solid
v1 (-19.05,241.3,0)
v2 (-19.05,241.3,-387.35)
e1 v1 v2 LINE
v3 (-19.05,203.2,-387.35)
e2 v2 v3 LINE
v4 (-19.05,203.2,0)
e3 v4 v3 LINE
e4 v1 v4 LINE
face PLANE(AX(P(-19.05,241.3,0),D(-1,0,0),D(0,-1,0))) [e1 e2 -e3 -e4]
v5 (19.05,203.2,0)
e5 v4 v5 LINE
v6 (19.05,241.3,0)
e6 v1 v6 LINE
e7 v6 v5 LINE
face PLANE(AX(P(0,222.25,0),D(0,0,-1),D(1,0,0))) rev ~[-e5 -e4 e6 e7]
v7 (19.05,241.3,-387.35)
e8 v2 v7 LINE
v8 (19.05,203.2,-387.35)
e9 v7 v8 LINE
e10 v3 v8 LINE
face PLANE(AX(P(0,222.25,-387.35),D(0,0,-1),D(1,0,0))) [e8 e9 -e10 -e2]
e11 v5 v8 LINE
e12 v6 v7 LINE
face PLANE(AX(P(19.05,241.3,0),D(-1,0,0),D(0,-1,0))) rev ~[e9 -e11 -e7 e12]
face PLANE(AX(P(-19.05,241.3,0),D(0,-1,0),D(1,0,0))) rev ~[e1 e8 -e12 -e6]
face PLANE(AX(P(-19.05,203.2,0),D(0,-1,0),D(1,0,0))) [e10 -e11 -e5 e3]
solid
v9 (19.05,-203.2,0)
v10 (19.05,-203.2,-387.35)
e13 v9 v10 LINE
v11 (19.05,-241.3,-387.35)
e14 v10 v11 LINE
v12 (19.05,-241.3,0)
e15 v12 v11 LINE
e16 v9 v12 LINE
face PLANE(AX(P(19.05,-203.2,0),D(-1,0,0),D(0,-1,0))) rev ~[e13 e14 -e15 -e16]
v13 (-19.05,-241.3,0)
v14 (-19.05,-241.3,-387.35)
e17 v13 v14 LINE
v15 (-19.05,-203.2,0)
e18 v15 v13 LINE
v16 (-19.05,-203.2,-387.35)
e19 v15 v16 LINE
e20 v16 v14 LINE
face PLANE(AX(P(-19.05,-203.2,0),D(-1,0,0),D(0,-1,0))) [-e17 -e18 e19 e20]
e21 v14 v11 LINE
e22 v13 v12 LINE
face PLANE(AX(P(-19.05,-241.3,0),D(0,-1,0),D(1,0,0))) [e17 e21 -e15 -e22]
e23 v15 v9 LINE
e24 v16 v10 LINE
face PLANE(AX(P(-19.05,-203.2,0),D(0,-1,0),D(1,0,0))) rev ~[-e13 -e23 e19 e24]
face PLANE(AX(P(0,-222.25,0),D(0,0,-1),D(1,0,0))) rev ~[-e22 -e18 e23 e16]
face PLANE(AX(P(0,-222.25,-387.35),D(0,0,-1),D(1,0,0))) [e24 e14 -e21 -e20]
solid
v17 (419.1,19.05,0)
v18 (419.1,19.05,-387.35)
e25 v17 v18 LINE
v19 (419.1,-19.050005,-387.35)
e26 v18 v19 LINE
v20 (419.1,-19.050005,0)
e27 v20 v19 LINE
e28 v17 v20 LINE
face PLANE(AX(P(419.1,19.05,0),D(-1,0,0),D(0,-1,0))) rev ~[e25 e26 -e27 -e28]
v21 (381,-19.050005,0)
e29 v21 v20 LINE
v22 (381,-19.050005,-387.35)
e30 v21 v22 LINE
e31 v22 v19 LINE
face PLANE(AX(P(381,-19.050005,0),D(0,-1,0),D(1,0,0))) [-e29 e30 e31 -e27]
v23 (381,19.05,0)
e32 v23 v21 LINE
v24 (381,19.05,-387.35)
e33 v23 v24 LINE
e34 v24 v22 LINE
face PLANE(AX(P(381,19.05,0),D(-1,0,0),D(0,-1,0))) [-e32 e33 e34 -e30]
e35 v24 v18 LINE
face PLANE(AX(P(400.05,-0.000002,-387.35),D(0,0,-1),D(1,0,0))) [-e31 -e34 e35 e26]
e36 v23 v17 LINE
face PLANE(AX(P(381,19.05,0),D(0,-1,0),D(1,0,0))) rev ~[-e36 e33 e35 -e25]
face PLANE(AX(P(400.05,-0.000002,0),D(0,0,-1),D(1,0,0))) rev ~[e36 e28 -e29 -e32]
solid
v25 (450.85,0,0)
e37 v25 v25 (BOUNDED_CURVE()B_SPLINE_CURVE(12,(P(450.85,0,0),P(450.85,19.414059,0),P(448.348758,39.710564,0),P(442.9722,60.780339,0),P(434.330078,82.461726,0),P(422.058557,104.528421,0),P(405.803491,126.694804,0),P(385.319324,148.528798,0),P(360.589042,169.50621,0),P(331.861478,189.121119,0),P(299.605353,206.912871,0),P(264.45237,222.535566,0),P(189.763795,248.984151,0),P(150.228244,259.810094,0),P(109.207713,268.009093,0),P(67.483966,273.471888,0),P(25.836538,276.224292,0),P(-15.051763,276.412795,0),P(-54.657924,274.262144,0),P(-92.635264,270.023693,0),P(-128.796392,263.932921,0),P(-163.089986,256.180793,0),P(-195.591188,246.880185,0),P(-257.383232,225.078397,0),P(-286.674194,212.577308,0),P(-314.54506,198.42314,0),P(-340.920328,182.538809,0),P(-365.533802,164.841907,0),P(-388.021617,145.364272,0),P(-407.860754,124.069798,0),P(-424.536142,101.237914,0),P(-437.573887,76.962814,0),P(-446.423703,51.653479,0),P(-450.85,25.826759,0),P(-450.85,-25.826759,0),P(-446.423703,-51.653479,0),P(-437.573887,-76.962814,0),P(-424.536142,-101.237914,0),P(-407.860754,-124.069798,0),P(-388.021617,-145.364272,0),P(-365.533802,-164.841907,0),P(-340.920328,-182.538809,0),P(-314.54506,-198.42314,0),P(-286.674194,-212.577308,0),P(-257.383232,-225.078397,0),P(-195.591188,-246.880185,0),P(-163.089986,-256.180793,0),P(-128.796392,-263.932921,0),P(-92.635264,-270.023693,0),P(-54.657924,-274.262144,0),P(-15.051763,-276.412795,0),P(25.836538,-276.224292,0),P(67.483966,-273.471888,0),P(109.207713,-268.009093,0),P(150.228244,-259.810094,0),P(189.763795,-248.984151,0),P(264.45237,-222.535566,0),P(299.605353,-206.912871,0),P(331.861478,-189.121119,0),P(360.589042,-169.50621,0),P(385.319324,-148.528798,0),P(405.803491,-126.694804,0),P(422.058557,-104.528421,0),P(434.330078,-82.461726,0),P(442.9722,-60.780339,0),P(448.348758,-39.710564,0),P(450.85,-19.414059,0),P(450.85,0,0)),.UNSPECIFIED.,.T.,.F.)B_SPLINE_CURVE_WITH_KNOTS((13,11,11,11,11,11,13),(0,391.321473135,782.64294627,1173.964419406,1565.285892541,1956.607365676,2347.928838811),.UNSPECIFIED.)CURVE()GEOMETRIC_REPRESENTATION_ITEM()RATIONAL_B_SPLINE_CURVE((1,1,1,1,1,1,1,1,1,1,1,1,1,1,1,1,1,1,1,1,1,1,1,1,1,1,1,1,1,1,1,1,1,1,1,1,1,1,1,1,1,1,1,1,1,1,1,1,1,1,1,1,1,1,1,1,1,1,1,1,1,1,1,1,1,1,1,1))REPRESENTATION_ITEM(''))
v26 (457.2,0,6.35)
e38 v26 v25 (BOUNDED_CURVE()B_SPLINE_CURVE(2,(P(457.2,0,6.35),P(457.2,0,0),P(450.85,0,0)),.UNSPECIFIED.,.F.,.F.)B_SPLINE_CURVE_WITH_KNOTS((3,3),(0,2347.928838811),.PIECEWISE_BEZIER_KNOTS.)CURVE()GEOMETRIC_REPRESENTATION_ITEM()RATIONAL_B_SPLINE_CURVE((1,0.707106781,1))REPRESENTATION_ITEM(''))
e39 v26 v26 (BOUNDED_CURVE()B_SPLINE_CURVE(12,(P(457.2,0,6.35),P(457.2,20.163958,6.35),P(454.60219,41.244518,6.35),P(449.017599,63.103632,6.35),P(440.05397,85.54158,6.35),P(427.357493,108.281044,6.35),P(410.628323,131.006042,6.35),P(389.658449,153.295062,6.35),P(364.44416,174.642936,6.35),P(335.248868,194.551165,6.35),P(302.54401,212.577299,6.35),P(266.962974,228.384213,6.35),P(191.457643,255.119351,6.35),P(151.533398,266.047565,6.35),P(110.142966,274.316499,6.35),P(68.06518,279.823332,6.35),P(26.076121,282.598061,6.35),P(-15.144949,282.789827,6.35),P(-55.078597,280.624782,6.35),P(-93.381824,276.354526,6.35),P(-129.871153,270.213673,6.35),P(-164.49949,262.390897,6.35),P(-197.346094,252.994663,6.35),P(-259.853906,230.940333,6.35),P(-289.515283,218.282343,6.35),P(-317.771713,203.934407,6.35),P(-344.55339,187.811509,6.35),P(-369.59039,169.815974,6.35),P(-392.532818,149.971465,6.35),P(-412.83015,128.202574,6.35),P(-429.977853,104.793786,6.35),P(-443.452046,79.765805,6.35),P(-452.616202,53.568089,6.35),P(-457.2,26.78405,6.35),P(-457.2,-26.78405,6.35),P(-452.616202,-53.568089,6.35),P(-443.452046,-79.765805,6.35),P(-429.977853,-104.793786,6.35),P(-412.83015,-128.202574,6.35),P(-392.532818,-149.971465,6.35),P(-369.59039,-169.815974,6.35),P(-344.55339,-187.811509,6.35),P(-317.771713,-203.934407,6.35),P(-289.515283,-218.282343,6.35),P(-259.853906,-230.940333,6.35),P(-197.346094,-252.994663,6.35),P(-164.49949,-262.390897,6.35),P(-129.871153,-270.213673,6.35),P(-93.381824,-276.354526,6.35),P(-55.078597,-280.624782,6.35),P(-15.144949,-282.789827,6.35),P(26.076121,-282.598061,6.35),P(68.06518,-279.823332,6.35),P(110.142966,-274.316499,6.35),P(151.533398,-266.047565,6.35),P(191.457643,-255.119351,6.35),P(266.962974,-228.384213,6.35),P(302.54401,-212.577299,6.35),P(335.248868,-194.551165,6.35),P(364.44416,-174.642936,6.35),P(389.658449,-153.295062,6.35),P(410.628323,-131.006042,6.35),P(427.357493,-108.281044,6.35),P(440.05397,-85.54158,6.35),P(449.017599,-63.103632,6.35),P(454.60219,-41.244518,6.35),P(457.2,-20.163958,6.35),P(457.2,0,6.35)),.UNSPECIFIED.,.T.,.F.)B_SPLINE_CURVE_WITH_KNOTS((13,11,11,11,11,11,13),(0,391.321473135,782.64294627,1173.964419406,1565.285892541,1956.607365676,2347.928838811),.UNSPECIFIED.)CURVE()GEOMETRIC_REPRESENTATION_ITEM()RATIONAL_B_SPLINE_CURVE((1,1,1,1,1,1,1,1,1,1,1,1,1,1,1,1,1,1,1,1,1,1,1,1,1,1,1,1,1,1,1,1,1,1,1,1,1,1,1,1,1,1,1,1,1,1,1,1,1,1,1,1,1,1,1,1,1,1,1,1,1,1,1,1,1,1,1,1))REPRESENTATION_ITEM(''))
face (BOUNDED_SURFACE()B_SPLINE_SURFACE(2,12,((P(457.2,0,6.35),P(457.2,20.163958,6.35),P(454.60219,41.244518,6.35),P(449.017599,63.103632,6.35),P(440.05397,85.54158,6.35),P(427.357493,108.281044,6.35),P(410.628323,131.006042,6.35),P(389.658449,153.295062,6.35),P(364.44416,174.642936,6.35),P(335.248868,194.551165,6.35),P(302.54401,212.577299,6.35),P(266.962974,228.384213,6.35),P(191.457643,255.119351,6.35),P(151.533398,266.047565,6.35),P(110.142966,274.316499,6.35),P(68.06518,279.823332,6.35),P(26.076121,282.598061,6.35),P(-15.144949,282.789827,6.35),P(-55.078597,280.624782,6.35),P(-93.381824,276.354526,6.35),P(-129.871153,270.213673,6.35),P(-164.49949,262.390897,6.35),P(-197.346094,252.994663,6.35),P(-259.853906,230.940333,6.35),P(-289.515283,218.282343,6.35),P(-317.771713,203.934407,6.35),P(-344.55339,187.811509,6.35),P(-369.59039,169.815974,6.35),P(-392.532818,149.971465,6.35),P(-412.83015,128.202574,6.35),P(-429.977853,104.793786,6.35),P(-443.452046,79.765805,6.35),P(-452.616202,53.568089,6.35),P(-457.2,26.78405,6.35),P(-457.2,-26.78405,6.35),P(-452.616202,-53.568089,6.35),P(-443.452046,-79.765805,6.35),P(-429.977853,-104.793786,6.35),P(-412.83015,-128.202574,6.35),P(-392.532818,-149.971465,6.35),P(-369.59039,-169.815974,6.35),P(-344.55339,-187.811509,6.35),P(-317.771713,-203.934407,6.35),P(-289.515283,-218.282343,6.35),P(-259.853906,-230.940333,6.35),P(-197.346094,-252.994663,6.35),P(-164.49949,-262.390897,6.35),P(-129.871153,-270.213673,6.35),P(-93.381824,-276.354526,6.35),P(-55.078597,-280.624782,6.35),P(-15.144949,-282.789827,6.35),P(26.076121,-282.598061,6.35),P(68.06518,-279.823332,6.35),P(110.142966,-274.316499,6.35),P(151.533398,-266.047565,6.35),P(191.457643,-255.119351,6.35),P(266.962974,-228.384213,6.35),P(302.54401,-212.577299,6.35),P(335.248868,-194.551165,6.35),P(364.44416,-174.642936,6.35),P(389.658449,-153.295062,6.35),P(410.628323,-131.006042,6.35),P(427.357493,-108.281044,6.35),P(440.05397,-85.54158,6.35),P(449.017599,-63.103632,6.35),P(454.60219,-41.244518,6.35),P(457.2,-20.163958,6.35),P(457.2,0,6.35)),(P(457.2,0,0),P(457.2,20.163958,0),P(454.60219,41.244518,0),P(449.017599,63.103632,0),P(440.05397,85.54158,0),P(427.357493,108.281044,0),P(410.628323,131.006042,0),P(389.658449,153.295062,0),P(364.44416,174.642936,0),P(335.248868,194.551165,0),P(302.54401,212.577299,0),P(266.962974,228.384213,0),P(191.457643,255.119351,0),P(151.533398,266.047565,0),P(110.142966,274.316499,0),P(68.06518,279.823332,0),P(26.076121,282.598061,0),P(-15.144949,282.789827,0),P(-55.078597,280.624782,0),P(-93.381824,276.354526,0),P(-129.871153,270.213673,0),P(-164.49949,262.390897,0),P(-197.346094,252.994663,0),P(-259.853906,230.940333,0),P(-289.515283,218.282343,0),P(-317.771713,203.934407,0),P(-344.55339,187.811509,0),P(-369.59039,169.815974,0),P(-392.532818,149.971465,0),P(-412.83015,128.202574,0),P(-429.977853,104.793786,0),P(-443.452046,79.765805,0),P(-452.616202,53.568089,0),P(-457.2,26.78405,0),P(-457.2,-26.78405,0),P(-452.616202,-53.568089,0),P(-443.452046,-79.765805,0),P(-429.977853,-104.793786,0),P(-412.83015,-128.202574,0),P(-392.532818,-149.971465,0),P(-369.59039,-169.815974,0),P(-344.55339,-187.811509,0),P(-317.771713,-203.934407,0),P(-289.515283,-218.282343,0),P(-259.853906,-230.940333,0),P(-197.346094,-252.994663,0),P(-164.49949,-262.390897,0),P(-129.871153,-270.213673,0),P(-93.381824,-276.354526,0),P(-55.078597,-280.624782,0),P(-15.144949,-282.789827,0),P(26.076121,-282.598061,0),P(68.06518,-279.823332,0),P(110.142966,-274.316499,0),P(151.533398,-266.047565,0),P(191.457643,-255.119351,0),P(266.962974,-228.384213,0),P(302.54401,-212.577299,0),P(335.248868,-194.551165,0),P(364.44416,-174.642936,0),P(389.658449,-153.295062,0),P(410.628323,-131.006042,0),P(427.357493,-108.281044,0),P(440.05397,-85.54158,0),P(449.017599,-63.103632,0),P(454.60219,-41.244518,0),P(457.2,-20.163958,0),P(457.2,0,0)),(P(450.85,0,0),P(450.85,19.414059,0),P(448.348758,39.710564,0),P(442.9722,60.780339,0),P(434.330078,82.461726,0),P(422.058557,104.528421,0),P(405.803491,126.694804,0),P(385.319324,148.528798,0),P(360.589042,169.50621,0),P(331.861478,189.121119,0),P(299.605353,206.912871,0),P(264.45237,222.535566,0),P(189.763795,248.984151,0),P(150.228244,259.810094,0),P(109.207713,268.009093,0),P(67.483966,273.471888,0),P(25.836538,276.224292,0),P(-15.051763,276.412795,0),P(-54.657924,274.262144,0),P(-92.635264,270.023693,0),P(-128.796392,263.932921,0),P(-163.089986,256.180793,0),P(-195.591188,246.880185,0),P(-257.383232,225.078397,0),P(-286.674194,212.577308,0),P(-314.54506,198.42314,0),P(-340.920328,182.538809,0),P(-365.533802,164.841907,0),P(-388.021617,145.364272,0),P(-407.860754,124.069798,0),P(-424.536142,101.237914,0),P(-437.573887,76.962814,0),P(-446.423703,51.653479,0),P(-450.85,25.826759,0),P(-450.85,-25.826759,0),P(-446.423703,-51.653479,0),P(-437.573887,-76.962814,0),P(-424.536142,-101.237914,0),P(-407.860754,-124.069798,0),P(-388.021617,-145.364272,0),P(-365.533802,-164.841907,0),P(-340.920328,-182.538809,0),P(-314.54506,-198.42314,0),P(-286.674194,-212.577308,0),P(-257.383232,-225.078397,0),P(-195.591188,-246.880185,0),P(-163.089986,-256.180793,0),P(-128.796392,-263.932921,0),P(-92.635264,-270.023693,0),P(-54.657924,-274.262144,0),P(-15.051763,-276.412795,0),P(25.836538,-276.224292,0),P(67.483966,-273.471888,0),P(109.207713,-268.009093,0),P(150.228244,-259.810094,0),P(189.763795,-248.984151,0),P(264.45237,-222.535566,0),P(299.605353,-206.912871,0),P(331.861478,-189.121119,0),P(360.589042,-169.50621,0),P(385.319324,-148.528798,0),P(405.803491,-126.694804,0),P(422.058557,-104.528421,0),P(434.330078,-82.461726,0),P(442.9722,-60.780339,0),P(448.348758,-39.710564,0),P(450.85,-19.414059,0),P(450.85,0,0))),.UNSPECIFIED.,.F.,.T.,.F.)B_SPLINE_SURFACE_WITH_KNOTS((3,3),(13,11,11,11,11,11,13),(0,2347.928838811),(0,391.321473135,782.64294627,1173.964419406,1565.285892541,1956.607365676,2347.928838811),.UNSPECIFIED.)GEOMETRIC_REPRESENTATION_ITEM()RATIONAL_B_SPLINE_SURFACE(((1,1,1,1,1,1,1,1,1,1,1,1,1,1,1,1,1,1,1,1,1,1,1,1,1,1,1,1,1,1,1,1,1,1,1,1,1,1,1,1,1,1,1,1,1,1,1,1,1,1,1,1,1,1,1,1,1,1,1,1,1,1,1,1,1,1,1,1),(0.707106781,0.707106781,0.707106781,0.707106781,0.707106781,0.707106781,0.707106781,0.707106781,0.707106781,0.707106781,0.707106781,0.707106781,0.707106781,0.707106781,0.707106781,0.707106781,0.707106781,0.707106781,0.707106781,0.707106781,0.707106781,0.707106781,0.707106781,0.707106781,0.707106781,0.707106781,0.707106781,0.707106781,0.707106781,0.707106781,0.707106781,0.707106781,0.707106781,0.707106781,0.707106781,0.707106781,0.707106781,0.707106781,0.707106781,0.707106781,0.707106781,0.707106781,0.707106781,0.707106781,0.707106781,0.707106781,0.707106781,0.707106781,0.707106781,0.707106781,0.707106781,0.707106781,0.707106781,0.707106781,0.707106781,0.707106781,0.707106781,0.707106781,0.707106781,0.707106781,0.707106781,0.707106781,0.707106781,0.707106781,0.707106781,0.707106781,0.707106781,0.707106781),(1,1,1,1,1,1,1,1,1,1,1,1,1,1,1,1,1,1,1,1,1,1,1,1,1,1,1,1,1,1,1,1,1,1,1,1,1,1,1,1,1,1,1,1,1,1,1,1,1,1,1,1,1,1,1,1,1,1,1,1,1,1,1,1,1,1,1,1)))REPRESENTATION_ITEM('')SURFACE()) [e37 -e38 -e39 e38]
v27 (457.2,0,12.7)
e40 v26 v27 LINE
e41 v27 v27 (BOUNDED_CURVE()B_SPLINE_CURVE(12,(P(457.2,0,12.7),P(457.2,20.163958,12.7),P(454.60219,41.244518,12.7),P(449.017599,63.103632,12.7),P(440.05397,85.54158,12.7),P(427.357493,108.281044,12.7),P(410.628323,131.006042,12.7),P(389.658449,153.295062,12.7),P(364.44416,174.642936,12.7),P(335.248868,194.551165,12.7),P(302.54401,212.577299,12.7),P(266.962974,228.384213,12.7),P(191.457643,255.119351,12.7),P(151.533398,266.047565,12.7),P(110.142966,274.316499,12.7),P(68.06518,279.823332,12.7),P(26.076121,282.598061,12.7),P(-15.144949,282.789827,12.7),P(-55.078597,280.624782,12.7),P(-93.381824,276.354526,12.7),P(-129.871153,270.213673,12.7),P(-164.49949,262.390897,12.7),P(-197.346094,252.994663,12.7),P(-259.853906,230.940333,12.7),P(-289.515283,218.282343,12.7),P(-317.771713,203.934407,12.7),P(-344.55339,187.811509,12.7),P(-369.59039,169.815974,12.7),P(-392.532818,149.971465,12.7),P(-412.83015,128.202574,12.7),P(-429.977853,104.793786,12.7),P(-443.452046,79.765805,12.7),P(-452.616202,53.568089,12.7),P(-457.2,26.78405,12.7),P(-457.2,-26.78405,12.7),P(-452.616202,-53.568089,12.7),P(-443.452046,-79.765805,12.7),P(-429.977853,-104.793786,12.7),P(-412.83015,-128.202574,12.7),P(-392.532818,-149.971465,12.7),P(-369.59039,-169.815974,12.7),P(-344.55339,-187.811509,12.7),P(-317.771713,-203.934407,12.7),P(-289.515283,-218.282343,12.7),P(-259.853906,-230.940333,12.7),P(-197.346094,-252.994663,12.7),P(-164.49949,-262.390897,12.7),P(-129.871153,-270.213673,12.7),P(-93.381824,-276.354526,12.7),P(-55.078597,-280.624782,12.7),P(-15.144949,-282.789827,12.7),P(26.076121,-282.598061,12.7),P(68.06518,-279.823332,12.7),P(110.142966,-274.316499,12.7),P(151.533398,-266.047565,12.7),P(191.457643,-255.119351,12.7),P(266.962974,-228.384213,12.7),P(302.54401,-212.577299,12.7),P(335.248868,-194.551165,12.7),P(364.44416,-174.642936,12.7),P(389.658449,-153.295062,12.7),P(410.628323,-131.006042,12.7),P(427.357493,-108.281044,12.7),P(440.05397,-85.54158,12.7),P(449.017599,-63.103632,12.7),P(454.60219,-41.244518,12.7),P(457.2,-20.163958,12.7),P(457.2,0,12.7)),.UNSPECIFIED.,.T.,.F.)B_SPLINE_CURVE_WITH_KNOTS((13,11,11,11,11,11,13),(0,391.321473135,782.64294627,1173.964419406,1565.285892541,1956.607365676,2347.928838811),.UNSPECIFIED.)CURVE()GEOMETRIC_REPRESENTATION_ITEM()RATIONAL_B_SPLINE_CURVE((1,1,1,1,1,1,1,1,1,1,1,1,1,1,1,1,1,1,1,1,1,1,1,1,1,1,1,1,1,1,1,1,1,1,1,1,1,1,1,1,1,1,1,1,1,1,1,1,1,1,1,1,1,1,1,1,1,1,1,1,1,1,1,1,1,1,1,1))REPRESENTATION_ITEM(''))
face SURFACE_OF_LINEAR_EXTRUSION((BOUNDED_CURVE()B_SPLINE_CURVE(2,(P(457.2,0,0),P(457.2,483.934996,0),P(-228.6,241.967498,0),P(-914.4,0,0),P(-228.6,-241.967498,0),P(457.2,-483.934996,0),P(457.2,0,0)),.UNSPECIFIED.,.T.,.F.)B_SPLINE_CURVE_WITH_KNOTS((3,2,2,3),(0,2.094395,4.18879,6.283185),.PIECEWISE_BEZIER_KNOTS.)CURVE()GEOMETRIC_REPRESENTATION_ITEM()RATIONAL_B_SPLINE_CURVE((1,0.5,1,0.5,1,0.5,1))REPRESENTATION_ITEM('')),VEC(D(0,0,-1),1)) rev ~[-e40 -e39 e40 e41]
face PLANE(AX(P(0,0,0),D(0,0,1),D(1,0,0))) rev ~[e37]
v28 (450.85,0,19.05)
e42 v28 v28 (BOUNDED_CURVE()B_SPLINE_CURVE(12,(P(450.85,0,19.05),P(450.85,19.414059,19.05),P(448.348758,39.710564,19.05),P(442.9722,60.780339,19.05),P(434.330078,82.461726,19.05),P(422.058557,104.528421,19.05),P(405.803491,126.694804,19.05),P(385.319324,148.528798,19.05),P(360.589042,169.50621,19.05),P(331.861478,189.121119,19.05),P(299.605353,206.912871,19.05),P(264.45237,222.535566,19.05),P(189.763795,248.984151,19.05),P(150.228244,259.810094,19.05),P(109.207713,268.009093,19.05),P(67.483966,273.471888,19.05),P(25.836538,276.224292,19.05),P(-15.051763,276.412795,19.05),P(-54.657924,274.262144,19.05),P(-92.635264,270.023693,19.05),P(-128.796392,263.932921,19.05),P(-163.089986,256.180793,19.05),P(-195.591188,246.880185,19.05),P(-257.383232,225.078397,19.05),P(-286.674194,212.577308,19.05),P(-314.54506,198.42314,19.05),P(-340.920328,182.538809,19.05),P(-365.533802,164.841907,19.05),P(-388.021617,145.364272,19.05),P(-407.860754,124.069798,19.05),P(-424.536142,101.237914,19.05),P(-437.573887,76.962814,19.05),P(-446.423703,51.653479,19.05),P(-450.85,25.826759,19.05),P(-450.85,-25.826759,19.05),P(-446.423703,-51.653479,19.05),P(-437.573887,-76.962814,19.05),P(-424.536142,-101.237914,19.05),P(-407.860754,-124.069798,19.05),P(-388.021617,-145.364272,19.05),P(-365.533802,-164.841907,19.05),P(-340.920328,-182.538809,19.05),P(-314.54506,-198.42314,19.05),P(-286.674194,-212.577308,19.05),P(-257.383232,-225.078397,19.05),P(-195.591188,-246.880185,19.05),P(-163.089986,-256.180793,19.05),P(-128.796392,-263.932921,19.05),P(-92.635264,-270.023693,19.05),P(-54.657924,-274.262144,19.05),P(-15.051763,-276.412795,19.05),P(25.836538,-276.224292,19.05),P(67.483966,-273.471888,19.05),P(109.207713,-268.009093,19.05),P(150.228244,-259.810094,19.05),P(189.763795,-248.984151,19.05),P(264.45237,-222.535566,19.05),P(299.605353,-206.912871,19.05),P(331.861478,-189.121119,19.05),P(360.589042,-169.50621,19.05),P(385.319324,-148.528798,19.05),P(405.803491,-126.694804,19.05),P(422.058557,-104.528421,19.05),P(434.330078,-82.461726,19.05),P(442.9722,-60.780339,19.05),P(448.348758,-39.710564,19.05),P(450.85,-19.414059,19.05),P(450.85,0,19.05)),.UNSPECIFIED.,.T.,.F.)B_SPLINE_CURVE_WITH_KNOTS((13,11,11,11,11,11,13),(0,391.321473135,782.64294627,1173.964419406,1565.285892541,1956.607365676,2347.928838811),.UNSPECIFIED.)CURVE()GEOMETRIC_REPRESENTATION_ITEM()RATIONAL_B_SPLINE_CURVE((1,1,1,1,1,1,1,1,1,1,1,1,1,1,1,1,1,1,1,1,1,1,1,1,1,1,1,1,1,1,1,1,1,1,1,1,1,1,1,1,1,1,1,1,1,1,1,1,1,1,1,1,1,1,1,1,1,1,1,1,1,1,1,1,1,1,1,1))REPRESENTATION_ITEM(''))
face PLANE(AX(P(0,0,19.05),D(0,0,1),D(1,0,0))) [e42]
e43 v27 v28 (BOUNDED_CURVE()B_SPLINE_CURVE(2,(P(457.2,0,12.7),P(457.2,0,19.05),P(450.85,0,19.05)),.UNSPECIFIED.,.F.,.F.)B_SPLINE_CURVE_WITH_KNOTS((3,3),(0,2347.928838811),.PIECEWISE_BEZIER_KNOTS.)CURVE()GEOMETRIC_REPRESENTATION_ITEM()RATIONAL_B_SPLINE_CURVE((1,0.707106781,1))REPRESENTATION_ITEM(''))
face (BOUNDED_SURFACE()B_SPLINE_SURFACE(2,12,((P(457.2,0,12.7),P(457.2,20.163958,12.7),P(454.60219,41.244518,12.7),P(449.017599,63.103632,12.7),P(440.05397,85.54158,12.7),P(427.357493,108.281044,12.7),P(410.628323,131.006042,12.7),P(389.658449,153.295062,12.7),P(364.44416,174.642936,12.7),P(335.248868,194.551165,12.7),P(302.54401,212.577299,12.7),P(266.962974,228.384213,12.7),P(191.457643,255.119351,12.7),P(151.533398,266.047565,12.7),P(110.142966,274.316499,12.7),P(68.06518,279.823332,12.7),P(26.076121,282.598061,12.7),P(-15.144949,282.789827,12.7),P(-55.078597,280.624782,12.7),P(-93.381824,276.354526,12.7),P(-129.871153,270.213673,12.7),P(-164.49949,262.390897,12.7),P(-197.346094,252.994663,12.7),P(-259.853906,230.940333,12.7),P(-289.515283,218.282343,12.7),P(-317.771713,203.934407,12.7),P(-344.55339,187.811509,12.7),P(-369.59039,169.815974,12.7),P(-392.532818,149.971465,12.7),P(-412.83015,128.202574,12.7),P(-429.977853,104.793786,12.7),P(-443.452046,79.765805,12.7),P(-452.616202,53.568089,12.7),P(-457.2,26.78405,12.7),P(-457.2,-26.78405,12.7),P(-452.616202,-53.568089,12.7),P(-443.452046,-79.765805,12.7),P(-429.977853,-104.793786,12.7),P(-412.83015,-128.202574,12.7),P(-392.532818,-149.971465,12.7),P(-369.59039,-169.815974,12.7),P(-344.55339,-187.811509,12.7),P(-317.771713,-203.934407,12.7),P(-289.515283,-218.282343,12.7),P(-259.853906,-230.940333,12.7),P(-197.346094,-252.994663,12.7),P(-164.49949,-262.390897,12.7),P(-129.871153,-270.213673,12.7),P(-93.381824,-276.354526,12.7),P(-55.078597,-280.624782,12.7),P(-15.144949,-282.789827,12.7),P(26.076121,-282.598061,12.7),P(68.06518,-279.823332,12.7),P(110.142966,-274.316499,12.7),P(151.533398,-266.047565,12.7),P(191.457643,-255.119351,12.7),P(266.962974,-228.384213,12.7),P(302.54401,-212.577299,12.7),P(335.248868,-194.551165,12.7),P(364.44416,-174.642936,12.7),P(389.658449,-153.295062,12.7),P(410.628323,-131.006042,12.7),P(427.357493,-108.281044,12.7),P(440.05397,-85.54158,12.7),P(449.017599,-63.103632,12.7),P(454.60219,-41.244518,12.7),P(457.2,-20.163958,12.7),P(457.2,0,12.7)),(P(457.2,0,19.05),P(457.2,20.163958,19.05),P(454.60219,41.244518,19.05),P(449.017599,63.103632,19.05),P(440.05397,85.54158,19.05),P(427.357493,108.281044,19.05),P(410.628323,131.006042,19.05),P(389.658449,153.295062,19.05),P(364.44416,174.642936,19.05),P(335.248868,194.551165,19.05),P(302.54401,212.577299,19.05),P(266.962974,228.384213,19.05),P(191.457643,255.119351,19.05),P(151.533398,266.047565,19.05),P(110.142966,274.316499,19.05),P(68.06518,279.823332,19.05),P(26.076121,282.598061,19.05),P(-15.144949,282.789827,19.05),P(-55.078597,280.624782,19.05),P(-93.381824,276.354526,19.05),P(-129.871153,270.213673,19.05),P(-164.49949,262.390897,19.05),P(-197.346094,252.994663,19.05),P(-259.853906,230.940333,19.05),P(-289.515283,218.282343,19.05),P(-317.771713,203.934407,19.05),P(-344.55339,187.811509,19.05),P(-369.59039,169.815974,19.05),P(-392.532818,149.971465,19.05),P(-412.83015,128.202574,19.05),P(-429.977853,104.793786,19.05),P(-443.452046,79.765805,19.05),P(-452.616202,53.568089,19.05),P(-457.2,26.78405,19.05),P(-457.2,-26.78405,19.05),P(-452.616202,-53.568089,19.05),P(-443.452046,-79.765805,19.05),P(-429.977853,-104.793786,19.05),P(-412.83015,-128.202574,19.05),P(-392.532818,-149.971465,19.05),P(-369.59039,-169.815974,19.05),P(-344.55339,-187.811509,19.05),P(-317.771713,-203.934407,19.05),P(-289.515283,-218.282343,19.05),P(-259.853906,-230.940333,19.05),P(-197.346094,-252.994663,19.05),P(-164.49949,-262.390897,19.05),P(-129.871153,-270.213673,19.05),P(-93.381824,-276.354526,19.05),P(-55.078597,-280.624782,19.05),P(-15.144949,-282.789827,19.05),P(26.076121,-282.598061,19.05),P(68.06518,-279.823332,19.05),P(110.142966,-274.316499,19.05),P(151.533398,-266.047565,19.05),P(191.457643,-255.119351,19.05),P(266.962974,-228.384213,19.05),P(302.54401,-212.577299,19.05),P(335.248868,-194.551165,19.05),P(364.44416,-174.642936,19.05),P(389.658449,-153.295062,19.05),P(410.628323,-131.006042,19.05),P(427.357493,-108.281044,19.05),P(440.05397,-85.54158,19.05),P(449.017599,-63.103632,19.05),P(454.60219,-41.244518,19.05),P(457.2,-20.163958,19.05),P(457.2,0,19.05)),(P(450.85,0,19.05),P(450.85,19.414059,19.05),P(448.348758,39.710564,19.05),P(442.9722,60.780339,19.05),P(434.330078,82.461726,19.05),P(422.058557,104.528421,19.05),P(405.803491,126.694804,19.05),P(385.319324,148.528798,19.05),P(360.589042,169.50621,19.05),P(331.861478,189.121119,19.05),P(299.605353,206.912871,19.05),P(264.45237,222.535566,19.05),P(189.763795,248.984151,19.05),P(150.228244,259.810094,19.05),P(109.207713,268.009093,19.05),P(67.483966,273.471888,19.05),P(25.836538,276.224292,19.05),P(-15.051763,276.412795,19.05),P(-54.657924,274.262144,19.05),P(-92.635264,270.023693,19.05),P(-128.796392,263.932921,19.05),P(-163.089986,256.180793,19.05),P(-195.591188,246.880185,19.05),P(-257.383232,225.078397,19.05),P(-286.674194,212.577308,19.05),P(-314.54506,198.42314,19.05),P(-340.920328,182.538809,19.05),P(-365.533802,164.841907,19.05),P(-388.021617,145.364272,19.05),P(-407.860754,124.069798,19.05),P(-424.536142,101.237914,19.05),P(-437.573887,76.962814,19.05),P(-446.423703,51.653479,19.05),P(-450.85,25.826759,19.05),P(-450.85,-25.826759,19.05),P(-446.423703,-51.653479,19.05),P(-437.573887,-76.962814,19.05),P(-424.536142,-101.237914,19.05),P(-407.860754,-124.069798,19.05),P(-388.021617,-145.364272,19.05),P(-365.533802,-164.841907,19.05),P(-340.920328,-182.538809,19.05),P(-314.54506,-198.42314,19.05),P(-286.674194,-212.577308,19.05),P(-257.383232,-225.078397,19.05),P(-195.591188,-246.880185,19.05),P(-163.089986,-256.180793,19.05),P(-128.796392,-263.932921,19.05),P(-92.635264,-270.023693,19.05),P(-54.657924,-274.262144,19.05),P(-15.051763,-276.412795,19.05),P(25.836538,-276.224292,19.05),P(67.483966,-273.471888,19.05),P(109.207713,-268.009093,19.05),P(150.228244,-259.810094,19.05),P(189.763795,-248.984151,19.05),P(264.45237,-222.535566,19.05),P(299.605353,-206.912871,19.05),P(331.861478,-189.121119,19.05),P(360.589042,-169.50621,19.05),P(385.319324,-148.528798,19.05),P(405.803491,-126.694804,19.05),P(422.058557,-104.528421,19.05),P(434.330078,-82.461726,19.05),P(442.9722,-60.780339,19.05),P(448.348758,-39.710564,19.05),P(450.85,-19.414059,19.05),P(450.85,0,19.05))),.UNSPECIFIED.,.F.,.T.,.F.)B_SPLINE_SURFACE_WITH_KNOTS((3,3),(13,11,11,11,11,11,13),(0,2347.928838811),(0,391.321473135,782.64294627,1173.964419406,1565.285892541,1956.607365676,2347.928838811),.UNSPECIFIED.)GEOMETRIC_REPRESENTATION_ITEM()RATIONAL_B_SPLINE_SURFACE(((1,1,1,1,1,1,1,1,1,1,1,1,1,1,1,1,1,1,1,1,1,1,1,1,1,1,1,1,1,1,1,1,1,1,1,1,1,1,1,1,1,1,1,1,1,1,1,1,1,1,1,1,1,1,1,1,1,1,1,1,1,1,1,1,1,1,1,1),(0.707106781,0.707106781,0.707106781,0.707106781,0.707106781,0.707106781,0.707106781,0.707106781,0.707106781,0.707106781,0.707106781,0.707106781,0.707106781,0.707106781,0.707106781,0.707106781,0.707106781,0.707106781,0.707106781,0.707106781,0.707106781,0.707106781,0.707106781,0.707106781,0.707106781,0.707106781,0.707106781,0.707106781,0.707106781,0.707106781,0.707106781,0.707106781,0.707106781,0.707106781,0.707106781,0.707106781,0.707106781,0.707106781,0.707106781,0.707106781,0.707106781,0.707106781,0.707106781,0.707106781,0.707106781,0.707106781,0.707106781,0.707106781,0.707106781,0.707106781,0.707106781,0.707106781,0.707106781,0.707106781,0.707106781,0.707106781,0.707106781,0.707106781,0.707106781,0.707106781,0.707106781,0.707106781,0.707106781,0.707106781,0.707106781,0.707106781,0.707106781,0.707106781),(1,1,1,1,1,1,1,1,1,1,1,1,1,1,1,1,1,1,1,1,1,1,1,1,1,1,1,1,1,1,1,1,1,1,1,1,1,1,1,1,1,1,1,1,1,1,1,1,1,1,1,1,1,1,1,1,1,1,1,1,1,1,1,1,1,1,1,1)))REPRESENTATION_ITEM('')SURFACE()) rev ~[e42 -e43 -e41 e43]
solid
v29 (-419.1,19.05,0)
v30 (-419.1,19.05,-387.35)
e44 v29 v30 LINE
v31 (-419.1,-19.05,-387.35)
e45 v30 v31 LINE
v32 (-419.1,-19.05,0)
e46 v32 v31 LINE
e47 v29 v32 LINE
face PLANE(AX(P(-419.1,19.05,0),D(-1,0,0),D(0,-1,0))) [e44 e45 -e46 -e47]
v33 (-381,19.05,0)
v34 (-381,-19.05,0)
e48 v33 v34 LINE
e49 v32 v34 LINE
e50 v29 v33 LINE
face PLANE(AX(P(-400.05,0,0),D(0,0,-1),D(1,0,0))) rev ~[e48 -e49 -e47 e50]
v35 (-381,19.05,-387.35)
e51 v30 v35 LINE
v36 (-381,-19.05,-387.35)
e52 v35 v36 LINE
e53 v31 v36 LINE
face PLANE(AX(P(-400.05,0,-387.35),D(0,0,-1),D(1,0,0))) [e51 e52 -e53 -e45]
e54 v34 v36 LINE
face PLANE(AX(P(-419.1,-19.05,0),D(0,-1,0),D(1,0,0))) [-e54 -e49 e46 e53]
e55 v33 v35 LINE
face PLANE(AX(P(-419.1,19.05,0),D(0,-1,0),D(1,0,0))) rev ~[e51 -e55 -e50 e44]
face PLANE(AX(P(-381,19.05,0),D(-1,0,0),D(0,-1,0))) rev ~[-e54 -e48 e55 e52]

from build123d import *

# Parameters (mm, degrees)
F1_DEPTH  = 19.05
F2_R      = 6.35
F3_W      = 38.1
F3_H      = 38.100005
F4_DEPTH  = 387.35
F5_W      = 38.1
F5_H      = 38.1
F6_DEPTH  = 387.35
F7_W      = 38.1
F7_H      = 38.1
F8_DEPTH  = 387.35
F9_W      = 38.1
F9_H      = 38.1
F10_DEPTH = 387.35


with BuildPart() as f1:
    # F0 (on Top) → F1 (new body)
    with BuildSketch(Plane.XY):
        with BuildLine():
            add(Edge.make_bspline(
                [(457.2, 0), (457.2, 483.934996), (-228.6, 241.967498), (-914.4, 0), (-228.6, -241.967498), (457.2, -483.934996), (457.2, 0)],
                knots=[0, 0, 0, 2.094395, 2.094395, 4.18879, 4.18879, 6.283185, 6.283185, 6.283185], degree=2, weights=[1, 0.5, 1, 0.5, 1, 0.5, 1]))
        make_face()
    extrude(amount=F1_DEPTH)

    # F2
    f2_edges = [f1.edges().sort_by_distance(p)[0] for p in [
        (-457.2, 4e-06, 19.05),
        (-457.2, 4e-06, 0),
    ]]
    fillet(f2_edges, radius=F2_R)


with BuildPart() as f4:
    # F3 (on face) → F4 (new body)
    with BuildSketch(Plane(origin=(0, 0, 0), x_dir=(1, 0, 0), z_dir=(0, 0, -1))):
        with Locations((400.05, 2e-06)):
            Rectangle(F3_W, F3_H)
    extrude(amount=F4_DEPTH)


with BuildPart() as f6:
    # F5 (on face) → F6 (new body)
    with BuildSketch(Plane(origin=(0, 0, 0), x_dir=(1, 0, 0), z_dir=(0, 0, -1))):
        with Locations((-400.05, 0)):
            Rectangle(F5_W, F5_H)
    extrude(amount=F6_DEPTH)


with BuildPart() as f8:
    # F7 (on face) → F8 (new body)
    with BuildSketch(Plane(origin=(0, 0, 0), x_dir=(1, 0, 0), z_dir=(0, 0, -1))):
        with Locations((0, 222.25)):
            Rectangle(F7_W, F7_H)
    extrude(amount=F8_DEPTH)


with BuildPart() as f10:
    # F9 (on face) → F10 (new body)
    with BuildSketch(Plane(origin=(0, 0, 0), x_dir=(1, 0, 0), z_dir=(0, 0, -1))):
        with Locations((0, -222.25)):
            Rectangle(F9_W, F9_H)
    extrude(amount=F10_DEPTH)


solid = Compound([f1.part, f4.part, f6.part, f8.part, f10.part])
